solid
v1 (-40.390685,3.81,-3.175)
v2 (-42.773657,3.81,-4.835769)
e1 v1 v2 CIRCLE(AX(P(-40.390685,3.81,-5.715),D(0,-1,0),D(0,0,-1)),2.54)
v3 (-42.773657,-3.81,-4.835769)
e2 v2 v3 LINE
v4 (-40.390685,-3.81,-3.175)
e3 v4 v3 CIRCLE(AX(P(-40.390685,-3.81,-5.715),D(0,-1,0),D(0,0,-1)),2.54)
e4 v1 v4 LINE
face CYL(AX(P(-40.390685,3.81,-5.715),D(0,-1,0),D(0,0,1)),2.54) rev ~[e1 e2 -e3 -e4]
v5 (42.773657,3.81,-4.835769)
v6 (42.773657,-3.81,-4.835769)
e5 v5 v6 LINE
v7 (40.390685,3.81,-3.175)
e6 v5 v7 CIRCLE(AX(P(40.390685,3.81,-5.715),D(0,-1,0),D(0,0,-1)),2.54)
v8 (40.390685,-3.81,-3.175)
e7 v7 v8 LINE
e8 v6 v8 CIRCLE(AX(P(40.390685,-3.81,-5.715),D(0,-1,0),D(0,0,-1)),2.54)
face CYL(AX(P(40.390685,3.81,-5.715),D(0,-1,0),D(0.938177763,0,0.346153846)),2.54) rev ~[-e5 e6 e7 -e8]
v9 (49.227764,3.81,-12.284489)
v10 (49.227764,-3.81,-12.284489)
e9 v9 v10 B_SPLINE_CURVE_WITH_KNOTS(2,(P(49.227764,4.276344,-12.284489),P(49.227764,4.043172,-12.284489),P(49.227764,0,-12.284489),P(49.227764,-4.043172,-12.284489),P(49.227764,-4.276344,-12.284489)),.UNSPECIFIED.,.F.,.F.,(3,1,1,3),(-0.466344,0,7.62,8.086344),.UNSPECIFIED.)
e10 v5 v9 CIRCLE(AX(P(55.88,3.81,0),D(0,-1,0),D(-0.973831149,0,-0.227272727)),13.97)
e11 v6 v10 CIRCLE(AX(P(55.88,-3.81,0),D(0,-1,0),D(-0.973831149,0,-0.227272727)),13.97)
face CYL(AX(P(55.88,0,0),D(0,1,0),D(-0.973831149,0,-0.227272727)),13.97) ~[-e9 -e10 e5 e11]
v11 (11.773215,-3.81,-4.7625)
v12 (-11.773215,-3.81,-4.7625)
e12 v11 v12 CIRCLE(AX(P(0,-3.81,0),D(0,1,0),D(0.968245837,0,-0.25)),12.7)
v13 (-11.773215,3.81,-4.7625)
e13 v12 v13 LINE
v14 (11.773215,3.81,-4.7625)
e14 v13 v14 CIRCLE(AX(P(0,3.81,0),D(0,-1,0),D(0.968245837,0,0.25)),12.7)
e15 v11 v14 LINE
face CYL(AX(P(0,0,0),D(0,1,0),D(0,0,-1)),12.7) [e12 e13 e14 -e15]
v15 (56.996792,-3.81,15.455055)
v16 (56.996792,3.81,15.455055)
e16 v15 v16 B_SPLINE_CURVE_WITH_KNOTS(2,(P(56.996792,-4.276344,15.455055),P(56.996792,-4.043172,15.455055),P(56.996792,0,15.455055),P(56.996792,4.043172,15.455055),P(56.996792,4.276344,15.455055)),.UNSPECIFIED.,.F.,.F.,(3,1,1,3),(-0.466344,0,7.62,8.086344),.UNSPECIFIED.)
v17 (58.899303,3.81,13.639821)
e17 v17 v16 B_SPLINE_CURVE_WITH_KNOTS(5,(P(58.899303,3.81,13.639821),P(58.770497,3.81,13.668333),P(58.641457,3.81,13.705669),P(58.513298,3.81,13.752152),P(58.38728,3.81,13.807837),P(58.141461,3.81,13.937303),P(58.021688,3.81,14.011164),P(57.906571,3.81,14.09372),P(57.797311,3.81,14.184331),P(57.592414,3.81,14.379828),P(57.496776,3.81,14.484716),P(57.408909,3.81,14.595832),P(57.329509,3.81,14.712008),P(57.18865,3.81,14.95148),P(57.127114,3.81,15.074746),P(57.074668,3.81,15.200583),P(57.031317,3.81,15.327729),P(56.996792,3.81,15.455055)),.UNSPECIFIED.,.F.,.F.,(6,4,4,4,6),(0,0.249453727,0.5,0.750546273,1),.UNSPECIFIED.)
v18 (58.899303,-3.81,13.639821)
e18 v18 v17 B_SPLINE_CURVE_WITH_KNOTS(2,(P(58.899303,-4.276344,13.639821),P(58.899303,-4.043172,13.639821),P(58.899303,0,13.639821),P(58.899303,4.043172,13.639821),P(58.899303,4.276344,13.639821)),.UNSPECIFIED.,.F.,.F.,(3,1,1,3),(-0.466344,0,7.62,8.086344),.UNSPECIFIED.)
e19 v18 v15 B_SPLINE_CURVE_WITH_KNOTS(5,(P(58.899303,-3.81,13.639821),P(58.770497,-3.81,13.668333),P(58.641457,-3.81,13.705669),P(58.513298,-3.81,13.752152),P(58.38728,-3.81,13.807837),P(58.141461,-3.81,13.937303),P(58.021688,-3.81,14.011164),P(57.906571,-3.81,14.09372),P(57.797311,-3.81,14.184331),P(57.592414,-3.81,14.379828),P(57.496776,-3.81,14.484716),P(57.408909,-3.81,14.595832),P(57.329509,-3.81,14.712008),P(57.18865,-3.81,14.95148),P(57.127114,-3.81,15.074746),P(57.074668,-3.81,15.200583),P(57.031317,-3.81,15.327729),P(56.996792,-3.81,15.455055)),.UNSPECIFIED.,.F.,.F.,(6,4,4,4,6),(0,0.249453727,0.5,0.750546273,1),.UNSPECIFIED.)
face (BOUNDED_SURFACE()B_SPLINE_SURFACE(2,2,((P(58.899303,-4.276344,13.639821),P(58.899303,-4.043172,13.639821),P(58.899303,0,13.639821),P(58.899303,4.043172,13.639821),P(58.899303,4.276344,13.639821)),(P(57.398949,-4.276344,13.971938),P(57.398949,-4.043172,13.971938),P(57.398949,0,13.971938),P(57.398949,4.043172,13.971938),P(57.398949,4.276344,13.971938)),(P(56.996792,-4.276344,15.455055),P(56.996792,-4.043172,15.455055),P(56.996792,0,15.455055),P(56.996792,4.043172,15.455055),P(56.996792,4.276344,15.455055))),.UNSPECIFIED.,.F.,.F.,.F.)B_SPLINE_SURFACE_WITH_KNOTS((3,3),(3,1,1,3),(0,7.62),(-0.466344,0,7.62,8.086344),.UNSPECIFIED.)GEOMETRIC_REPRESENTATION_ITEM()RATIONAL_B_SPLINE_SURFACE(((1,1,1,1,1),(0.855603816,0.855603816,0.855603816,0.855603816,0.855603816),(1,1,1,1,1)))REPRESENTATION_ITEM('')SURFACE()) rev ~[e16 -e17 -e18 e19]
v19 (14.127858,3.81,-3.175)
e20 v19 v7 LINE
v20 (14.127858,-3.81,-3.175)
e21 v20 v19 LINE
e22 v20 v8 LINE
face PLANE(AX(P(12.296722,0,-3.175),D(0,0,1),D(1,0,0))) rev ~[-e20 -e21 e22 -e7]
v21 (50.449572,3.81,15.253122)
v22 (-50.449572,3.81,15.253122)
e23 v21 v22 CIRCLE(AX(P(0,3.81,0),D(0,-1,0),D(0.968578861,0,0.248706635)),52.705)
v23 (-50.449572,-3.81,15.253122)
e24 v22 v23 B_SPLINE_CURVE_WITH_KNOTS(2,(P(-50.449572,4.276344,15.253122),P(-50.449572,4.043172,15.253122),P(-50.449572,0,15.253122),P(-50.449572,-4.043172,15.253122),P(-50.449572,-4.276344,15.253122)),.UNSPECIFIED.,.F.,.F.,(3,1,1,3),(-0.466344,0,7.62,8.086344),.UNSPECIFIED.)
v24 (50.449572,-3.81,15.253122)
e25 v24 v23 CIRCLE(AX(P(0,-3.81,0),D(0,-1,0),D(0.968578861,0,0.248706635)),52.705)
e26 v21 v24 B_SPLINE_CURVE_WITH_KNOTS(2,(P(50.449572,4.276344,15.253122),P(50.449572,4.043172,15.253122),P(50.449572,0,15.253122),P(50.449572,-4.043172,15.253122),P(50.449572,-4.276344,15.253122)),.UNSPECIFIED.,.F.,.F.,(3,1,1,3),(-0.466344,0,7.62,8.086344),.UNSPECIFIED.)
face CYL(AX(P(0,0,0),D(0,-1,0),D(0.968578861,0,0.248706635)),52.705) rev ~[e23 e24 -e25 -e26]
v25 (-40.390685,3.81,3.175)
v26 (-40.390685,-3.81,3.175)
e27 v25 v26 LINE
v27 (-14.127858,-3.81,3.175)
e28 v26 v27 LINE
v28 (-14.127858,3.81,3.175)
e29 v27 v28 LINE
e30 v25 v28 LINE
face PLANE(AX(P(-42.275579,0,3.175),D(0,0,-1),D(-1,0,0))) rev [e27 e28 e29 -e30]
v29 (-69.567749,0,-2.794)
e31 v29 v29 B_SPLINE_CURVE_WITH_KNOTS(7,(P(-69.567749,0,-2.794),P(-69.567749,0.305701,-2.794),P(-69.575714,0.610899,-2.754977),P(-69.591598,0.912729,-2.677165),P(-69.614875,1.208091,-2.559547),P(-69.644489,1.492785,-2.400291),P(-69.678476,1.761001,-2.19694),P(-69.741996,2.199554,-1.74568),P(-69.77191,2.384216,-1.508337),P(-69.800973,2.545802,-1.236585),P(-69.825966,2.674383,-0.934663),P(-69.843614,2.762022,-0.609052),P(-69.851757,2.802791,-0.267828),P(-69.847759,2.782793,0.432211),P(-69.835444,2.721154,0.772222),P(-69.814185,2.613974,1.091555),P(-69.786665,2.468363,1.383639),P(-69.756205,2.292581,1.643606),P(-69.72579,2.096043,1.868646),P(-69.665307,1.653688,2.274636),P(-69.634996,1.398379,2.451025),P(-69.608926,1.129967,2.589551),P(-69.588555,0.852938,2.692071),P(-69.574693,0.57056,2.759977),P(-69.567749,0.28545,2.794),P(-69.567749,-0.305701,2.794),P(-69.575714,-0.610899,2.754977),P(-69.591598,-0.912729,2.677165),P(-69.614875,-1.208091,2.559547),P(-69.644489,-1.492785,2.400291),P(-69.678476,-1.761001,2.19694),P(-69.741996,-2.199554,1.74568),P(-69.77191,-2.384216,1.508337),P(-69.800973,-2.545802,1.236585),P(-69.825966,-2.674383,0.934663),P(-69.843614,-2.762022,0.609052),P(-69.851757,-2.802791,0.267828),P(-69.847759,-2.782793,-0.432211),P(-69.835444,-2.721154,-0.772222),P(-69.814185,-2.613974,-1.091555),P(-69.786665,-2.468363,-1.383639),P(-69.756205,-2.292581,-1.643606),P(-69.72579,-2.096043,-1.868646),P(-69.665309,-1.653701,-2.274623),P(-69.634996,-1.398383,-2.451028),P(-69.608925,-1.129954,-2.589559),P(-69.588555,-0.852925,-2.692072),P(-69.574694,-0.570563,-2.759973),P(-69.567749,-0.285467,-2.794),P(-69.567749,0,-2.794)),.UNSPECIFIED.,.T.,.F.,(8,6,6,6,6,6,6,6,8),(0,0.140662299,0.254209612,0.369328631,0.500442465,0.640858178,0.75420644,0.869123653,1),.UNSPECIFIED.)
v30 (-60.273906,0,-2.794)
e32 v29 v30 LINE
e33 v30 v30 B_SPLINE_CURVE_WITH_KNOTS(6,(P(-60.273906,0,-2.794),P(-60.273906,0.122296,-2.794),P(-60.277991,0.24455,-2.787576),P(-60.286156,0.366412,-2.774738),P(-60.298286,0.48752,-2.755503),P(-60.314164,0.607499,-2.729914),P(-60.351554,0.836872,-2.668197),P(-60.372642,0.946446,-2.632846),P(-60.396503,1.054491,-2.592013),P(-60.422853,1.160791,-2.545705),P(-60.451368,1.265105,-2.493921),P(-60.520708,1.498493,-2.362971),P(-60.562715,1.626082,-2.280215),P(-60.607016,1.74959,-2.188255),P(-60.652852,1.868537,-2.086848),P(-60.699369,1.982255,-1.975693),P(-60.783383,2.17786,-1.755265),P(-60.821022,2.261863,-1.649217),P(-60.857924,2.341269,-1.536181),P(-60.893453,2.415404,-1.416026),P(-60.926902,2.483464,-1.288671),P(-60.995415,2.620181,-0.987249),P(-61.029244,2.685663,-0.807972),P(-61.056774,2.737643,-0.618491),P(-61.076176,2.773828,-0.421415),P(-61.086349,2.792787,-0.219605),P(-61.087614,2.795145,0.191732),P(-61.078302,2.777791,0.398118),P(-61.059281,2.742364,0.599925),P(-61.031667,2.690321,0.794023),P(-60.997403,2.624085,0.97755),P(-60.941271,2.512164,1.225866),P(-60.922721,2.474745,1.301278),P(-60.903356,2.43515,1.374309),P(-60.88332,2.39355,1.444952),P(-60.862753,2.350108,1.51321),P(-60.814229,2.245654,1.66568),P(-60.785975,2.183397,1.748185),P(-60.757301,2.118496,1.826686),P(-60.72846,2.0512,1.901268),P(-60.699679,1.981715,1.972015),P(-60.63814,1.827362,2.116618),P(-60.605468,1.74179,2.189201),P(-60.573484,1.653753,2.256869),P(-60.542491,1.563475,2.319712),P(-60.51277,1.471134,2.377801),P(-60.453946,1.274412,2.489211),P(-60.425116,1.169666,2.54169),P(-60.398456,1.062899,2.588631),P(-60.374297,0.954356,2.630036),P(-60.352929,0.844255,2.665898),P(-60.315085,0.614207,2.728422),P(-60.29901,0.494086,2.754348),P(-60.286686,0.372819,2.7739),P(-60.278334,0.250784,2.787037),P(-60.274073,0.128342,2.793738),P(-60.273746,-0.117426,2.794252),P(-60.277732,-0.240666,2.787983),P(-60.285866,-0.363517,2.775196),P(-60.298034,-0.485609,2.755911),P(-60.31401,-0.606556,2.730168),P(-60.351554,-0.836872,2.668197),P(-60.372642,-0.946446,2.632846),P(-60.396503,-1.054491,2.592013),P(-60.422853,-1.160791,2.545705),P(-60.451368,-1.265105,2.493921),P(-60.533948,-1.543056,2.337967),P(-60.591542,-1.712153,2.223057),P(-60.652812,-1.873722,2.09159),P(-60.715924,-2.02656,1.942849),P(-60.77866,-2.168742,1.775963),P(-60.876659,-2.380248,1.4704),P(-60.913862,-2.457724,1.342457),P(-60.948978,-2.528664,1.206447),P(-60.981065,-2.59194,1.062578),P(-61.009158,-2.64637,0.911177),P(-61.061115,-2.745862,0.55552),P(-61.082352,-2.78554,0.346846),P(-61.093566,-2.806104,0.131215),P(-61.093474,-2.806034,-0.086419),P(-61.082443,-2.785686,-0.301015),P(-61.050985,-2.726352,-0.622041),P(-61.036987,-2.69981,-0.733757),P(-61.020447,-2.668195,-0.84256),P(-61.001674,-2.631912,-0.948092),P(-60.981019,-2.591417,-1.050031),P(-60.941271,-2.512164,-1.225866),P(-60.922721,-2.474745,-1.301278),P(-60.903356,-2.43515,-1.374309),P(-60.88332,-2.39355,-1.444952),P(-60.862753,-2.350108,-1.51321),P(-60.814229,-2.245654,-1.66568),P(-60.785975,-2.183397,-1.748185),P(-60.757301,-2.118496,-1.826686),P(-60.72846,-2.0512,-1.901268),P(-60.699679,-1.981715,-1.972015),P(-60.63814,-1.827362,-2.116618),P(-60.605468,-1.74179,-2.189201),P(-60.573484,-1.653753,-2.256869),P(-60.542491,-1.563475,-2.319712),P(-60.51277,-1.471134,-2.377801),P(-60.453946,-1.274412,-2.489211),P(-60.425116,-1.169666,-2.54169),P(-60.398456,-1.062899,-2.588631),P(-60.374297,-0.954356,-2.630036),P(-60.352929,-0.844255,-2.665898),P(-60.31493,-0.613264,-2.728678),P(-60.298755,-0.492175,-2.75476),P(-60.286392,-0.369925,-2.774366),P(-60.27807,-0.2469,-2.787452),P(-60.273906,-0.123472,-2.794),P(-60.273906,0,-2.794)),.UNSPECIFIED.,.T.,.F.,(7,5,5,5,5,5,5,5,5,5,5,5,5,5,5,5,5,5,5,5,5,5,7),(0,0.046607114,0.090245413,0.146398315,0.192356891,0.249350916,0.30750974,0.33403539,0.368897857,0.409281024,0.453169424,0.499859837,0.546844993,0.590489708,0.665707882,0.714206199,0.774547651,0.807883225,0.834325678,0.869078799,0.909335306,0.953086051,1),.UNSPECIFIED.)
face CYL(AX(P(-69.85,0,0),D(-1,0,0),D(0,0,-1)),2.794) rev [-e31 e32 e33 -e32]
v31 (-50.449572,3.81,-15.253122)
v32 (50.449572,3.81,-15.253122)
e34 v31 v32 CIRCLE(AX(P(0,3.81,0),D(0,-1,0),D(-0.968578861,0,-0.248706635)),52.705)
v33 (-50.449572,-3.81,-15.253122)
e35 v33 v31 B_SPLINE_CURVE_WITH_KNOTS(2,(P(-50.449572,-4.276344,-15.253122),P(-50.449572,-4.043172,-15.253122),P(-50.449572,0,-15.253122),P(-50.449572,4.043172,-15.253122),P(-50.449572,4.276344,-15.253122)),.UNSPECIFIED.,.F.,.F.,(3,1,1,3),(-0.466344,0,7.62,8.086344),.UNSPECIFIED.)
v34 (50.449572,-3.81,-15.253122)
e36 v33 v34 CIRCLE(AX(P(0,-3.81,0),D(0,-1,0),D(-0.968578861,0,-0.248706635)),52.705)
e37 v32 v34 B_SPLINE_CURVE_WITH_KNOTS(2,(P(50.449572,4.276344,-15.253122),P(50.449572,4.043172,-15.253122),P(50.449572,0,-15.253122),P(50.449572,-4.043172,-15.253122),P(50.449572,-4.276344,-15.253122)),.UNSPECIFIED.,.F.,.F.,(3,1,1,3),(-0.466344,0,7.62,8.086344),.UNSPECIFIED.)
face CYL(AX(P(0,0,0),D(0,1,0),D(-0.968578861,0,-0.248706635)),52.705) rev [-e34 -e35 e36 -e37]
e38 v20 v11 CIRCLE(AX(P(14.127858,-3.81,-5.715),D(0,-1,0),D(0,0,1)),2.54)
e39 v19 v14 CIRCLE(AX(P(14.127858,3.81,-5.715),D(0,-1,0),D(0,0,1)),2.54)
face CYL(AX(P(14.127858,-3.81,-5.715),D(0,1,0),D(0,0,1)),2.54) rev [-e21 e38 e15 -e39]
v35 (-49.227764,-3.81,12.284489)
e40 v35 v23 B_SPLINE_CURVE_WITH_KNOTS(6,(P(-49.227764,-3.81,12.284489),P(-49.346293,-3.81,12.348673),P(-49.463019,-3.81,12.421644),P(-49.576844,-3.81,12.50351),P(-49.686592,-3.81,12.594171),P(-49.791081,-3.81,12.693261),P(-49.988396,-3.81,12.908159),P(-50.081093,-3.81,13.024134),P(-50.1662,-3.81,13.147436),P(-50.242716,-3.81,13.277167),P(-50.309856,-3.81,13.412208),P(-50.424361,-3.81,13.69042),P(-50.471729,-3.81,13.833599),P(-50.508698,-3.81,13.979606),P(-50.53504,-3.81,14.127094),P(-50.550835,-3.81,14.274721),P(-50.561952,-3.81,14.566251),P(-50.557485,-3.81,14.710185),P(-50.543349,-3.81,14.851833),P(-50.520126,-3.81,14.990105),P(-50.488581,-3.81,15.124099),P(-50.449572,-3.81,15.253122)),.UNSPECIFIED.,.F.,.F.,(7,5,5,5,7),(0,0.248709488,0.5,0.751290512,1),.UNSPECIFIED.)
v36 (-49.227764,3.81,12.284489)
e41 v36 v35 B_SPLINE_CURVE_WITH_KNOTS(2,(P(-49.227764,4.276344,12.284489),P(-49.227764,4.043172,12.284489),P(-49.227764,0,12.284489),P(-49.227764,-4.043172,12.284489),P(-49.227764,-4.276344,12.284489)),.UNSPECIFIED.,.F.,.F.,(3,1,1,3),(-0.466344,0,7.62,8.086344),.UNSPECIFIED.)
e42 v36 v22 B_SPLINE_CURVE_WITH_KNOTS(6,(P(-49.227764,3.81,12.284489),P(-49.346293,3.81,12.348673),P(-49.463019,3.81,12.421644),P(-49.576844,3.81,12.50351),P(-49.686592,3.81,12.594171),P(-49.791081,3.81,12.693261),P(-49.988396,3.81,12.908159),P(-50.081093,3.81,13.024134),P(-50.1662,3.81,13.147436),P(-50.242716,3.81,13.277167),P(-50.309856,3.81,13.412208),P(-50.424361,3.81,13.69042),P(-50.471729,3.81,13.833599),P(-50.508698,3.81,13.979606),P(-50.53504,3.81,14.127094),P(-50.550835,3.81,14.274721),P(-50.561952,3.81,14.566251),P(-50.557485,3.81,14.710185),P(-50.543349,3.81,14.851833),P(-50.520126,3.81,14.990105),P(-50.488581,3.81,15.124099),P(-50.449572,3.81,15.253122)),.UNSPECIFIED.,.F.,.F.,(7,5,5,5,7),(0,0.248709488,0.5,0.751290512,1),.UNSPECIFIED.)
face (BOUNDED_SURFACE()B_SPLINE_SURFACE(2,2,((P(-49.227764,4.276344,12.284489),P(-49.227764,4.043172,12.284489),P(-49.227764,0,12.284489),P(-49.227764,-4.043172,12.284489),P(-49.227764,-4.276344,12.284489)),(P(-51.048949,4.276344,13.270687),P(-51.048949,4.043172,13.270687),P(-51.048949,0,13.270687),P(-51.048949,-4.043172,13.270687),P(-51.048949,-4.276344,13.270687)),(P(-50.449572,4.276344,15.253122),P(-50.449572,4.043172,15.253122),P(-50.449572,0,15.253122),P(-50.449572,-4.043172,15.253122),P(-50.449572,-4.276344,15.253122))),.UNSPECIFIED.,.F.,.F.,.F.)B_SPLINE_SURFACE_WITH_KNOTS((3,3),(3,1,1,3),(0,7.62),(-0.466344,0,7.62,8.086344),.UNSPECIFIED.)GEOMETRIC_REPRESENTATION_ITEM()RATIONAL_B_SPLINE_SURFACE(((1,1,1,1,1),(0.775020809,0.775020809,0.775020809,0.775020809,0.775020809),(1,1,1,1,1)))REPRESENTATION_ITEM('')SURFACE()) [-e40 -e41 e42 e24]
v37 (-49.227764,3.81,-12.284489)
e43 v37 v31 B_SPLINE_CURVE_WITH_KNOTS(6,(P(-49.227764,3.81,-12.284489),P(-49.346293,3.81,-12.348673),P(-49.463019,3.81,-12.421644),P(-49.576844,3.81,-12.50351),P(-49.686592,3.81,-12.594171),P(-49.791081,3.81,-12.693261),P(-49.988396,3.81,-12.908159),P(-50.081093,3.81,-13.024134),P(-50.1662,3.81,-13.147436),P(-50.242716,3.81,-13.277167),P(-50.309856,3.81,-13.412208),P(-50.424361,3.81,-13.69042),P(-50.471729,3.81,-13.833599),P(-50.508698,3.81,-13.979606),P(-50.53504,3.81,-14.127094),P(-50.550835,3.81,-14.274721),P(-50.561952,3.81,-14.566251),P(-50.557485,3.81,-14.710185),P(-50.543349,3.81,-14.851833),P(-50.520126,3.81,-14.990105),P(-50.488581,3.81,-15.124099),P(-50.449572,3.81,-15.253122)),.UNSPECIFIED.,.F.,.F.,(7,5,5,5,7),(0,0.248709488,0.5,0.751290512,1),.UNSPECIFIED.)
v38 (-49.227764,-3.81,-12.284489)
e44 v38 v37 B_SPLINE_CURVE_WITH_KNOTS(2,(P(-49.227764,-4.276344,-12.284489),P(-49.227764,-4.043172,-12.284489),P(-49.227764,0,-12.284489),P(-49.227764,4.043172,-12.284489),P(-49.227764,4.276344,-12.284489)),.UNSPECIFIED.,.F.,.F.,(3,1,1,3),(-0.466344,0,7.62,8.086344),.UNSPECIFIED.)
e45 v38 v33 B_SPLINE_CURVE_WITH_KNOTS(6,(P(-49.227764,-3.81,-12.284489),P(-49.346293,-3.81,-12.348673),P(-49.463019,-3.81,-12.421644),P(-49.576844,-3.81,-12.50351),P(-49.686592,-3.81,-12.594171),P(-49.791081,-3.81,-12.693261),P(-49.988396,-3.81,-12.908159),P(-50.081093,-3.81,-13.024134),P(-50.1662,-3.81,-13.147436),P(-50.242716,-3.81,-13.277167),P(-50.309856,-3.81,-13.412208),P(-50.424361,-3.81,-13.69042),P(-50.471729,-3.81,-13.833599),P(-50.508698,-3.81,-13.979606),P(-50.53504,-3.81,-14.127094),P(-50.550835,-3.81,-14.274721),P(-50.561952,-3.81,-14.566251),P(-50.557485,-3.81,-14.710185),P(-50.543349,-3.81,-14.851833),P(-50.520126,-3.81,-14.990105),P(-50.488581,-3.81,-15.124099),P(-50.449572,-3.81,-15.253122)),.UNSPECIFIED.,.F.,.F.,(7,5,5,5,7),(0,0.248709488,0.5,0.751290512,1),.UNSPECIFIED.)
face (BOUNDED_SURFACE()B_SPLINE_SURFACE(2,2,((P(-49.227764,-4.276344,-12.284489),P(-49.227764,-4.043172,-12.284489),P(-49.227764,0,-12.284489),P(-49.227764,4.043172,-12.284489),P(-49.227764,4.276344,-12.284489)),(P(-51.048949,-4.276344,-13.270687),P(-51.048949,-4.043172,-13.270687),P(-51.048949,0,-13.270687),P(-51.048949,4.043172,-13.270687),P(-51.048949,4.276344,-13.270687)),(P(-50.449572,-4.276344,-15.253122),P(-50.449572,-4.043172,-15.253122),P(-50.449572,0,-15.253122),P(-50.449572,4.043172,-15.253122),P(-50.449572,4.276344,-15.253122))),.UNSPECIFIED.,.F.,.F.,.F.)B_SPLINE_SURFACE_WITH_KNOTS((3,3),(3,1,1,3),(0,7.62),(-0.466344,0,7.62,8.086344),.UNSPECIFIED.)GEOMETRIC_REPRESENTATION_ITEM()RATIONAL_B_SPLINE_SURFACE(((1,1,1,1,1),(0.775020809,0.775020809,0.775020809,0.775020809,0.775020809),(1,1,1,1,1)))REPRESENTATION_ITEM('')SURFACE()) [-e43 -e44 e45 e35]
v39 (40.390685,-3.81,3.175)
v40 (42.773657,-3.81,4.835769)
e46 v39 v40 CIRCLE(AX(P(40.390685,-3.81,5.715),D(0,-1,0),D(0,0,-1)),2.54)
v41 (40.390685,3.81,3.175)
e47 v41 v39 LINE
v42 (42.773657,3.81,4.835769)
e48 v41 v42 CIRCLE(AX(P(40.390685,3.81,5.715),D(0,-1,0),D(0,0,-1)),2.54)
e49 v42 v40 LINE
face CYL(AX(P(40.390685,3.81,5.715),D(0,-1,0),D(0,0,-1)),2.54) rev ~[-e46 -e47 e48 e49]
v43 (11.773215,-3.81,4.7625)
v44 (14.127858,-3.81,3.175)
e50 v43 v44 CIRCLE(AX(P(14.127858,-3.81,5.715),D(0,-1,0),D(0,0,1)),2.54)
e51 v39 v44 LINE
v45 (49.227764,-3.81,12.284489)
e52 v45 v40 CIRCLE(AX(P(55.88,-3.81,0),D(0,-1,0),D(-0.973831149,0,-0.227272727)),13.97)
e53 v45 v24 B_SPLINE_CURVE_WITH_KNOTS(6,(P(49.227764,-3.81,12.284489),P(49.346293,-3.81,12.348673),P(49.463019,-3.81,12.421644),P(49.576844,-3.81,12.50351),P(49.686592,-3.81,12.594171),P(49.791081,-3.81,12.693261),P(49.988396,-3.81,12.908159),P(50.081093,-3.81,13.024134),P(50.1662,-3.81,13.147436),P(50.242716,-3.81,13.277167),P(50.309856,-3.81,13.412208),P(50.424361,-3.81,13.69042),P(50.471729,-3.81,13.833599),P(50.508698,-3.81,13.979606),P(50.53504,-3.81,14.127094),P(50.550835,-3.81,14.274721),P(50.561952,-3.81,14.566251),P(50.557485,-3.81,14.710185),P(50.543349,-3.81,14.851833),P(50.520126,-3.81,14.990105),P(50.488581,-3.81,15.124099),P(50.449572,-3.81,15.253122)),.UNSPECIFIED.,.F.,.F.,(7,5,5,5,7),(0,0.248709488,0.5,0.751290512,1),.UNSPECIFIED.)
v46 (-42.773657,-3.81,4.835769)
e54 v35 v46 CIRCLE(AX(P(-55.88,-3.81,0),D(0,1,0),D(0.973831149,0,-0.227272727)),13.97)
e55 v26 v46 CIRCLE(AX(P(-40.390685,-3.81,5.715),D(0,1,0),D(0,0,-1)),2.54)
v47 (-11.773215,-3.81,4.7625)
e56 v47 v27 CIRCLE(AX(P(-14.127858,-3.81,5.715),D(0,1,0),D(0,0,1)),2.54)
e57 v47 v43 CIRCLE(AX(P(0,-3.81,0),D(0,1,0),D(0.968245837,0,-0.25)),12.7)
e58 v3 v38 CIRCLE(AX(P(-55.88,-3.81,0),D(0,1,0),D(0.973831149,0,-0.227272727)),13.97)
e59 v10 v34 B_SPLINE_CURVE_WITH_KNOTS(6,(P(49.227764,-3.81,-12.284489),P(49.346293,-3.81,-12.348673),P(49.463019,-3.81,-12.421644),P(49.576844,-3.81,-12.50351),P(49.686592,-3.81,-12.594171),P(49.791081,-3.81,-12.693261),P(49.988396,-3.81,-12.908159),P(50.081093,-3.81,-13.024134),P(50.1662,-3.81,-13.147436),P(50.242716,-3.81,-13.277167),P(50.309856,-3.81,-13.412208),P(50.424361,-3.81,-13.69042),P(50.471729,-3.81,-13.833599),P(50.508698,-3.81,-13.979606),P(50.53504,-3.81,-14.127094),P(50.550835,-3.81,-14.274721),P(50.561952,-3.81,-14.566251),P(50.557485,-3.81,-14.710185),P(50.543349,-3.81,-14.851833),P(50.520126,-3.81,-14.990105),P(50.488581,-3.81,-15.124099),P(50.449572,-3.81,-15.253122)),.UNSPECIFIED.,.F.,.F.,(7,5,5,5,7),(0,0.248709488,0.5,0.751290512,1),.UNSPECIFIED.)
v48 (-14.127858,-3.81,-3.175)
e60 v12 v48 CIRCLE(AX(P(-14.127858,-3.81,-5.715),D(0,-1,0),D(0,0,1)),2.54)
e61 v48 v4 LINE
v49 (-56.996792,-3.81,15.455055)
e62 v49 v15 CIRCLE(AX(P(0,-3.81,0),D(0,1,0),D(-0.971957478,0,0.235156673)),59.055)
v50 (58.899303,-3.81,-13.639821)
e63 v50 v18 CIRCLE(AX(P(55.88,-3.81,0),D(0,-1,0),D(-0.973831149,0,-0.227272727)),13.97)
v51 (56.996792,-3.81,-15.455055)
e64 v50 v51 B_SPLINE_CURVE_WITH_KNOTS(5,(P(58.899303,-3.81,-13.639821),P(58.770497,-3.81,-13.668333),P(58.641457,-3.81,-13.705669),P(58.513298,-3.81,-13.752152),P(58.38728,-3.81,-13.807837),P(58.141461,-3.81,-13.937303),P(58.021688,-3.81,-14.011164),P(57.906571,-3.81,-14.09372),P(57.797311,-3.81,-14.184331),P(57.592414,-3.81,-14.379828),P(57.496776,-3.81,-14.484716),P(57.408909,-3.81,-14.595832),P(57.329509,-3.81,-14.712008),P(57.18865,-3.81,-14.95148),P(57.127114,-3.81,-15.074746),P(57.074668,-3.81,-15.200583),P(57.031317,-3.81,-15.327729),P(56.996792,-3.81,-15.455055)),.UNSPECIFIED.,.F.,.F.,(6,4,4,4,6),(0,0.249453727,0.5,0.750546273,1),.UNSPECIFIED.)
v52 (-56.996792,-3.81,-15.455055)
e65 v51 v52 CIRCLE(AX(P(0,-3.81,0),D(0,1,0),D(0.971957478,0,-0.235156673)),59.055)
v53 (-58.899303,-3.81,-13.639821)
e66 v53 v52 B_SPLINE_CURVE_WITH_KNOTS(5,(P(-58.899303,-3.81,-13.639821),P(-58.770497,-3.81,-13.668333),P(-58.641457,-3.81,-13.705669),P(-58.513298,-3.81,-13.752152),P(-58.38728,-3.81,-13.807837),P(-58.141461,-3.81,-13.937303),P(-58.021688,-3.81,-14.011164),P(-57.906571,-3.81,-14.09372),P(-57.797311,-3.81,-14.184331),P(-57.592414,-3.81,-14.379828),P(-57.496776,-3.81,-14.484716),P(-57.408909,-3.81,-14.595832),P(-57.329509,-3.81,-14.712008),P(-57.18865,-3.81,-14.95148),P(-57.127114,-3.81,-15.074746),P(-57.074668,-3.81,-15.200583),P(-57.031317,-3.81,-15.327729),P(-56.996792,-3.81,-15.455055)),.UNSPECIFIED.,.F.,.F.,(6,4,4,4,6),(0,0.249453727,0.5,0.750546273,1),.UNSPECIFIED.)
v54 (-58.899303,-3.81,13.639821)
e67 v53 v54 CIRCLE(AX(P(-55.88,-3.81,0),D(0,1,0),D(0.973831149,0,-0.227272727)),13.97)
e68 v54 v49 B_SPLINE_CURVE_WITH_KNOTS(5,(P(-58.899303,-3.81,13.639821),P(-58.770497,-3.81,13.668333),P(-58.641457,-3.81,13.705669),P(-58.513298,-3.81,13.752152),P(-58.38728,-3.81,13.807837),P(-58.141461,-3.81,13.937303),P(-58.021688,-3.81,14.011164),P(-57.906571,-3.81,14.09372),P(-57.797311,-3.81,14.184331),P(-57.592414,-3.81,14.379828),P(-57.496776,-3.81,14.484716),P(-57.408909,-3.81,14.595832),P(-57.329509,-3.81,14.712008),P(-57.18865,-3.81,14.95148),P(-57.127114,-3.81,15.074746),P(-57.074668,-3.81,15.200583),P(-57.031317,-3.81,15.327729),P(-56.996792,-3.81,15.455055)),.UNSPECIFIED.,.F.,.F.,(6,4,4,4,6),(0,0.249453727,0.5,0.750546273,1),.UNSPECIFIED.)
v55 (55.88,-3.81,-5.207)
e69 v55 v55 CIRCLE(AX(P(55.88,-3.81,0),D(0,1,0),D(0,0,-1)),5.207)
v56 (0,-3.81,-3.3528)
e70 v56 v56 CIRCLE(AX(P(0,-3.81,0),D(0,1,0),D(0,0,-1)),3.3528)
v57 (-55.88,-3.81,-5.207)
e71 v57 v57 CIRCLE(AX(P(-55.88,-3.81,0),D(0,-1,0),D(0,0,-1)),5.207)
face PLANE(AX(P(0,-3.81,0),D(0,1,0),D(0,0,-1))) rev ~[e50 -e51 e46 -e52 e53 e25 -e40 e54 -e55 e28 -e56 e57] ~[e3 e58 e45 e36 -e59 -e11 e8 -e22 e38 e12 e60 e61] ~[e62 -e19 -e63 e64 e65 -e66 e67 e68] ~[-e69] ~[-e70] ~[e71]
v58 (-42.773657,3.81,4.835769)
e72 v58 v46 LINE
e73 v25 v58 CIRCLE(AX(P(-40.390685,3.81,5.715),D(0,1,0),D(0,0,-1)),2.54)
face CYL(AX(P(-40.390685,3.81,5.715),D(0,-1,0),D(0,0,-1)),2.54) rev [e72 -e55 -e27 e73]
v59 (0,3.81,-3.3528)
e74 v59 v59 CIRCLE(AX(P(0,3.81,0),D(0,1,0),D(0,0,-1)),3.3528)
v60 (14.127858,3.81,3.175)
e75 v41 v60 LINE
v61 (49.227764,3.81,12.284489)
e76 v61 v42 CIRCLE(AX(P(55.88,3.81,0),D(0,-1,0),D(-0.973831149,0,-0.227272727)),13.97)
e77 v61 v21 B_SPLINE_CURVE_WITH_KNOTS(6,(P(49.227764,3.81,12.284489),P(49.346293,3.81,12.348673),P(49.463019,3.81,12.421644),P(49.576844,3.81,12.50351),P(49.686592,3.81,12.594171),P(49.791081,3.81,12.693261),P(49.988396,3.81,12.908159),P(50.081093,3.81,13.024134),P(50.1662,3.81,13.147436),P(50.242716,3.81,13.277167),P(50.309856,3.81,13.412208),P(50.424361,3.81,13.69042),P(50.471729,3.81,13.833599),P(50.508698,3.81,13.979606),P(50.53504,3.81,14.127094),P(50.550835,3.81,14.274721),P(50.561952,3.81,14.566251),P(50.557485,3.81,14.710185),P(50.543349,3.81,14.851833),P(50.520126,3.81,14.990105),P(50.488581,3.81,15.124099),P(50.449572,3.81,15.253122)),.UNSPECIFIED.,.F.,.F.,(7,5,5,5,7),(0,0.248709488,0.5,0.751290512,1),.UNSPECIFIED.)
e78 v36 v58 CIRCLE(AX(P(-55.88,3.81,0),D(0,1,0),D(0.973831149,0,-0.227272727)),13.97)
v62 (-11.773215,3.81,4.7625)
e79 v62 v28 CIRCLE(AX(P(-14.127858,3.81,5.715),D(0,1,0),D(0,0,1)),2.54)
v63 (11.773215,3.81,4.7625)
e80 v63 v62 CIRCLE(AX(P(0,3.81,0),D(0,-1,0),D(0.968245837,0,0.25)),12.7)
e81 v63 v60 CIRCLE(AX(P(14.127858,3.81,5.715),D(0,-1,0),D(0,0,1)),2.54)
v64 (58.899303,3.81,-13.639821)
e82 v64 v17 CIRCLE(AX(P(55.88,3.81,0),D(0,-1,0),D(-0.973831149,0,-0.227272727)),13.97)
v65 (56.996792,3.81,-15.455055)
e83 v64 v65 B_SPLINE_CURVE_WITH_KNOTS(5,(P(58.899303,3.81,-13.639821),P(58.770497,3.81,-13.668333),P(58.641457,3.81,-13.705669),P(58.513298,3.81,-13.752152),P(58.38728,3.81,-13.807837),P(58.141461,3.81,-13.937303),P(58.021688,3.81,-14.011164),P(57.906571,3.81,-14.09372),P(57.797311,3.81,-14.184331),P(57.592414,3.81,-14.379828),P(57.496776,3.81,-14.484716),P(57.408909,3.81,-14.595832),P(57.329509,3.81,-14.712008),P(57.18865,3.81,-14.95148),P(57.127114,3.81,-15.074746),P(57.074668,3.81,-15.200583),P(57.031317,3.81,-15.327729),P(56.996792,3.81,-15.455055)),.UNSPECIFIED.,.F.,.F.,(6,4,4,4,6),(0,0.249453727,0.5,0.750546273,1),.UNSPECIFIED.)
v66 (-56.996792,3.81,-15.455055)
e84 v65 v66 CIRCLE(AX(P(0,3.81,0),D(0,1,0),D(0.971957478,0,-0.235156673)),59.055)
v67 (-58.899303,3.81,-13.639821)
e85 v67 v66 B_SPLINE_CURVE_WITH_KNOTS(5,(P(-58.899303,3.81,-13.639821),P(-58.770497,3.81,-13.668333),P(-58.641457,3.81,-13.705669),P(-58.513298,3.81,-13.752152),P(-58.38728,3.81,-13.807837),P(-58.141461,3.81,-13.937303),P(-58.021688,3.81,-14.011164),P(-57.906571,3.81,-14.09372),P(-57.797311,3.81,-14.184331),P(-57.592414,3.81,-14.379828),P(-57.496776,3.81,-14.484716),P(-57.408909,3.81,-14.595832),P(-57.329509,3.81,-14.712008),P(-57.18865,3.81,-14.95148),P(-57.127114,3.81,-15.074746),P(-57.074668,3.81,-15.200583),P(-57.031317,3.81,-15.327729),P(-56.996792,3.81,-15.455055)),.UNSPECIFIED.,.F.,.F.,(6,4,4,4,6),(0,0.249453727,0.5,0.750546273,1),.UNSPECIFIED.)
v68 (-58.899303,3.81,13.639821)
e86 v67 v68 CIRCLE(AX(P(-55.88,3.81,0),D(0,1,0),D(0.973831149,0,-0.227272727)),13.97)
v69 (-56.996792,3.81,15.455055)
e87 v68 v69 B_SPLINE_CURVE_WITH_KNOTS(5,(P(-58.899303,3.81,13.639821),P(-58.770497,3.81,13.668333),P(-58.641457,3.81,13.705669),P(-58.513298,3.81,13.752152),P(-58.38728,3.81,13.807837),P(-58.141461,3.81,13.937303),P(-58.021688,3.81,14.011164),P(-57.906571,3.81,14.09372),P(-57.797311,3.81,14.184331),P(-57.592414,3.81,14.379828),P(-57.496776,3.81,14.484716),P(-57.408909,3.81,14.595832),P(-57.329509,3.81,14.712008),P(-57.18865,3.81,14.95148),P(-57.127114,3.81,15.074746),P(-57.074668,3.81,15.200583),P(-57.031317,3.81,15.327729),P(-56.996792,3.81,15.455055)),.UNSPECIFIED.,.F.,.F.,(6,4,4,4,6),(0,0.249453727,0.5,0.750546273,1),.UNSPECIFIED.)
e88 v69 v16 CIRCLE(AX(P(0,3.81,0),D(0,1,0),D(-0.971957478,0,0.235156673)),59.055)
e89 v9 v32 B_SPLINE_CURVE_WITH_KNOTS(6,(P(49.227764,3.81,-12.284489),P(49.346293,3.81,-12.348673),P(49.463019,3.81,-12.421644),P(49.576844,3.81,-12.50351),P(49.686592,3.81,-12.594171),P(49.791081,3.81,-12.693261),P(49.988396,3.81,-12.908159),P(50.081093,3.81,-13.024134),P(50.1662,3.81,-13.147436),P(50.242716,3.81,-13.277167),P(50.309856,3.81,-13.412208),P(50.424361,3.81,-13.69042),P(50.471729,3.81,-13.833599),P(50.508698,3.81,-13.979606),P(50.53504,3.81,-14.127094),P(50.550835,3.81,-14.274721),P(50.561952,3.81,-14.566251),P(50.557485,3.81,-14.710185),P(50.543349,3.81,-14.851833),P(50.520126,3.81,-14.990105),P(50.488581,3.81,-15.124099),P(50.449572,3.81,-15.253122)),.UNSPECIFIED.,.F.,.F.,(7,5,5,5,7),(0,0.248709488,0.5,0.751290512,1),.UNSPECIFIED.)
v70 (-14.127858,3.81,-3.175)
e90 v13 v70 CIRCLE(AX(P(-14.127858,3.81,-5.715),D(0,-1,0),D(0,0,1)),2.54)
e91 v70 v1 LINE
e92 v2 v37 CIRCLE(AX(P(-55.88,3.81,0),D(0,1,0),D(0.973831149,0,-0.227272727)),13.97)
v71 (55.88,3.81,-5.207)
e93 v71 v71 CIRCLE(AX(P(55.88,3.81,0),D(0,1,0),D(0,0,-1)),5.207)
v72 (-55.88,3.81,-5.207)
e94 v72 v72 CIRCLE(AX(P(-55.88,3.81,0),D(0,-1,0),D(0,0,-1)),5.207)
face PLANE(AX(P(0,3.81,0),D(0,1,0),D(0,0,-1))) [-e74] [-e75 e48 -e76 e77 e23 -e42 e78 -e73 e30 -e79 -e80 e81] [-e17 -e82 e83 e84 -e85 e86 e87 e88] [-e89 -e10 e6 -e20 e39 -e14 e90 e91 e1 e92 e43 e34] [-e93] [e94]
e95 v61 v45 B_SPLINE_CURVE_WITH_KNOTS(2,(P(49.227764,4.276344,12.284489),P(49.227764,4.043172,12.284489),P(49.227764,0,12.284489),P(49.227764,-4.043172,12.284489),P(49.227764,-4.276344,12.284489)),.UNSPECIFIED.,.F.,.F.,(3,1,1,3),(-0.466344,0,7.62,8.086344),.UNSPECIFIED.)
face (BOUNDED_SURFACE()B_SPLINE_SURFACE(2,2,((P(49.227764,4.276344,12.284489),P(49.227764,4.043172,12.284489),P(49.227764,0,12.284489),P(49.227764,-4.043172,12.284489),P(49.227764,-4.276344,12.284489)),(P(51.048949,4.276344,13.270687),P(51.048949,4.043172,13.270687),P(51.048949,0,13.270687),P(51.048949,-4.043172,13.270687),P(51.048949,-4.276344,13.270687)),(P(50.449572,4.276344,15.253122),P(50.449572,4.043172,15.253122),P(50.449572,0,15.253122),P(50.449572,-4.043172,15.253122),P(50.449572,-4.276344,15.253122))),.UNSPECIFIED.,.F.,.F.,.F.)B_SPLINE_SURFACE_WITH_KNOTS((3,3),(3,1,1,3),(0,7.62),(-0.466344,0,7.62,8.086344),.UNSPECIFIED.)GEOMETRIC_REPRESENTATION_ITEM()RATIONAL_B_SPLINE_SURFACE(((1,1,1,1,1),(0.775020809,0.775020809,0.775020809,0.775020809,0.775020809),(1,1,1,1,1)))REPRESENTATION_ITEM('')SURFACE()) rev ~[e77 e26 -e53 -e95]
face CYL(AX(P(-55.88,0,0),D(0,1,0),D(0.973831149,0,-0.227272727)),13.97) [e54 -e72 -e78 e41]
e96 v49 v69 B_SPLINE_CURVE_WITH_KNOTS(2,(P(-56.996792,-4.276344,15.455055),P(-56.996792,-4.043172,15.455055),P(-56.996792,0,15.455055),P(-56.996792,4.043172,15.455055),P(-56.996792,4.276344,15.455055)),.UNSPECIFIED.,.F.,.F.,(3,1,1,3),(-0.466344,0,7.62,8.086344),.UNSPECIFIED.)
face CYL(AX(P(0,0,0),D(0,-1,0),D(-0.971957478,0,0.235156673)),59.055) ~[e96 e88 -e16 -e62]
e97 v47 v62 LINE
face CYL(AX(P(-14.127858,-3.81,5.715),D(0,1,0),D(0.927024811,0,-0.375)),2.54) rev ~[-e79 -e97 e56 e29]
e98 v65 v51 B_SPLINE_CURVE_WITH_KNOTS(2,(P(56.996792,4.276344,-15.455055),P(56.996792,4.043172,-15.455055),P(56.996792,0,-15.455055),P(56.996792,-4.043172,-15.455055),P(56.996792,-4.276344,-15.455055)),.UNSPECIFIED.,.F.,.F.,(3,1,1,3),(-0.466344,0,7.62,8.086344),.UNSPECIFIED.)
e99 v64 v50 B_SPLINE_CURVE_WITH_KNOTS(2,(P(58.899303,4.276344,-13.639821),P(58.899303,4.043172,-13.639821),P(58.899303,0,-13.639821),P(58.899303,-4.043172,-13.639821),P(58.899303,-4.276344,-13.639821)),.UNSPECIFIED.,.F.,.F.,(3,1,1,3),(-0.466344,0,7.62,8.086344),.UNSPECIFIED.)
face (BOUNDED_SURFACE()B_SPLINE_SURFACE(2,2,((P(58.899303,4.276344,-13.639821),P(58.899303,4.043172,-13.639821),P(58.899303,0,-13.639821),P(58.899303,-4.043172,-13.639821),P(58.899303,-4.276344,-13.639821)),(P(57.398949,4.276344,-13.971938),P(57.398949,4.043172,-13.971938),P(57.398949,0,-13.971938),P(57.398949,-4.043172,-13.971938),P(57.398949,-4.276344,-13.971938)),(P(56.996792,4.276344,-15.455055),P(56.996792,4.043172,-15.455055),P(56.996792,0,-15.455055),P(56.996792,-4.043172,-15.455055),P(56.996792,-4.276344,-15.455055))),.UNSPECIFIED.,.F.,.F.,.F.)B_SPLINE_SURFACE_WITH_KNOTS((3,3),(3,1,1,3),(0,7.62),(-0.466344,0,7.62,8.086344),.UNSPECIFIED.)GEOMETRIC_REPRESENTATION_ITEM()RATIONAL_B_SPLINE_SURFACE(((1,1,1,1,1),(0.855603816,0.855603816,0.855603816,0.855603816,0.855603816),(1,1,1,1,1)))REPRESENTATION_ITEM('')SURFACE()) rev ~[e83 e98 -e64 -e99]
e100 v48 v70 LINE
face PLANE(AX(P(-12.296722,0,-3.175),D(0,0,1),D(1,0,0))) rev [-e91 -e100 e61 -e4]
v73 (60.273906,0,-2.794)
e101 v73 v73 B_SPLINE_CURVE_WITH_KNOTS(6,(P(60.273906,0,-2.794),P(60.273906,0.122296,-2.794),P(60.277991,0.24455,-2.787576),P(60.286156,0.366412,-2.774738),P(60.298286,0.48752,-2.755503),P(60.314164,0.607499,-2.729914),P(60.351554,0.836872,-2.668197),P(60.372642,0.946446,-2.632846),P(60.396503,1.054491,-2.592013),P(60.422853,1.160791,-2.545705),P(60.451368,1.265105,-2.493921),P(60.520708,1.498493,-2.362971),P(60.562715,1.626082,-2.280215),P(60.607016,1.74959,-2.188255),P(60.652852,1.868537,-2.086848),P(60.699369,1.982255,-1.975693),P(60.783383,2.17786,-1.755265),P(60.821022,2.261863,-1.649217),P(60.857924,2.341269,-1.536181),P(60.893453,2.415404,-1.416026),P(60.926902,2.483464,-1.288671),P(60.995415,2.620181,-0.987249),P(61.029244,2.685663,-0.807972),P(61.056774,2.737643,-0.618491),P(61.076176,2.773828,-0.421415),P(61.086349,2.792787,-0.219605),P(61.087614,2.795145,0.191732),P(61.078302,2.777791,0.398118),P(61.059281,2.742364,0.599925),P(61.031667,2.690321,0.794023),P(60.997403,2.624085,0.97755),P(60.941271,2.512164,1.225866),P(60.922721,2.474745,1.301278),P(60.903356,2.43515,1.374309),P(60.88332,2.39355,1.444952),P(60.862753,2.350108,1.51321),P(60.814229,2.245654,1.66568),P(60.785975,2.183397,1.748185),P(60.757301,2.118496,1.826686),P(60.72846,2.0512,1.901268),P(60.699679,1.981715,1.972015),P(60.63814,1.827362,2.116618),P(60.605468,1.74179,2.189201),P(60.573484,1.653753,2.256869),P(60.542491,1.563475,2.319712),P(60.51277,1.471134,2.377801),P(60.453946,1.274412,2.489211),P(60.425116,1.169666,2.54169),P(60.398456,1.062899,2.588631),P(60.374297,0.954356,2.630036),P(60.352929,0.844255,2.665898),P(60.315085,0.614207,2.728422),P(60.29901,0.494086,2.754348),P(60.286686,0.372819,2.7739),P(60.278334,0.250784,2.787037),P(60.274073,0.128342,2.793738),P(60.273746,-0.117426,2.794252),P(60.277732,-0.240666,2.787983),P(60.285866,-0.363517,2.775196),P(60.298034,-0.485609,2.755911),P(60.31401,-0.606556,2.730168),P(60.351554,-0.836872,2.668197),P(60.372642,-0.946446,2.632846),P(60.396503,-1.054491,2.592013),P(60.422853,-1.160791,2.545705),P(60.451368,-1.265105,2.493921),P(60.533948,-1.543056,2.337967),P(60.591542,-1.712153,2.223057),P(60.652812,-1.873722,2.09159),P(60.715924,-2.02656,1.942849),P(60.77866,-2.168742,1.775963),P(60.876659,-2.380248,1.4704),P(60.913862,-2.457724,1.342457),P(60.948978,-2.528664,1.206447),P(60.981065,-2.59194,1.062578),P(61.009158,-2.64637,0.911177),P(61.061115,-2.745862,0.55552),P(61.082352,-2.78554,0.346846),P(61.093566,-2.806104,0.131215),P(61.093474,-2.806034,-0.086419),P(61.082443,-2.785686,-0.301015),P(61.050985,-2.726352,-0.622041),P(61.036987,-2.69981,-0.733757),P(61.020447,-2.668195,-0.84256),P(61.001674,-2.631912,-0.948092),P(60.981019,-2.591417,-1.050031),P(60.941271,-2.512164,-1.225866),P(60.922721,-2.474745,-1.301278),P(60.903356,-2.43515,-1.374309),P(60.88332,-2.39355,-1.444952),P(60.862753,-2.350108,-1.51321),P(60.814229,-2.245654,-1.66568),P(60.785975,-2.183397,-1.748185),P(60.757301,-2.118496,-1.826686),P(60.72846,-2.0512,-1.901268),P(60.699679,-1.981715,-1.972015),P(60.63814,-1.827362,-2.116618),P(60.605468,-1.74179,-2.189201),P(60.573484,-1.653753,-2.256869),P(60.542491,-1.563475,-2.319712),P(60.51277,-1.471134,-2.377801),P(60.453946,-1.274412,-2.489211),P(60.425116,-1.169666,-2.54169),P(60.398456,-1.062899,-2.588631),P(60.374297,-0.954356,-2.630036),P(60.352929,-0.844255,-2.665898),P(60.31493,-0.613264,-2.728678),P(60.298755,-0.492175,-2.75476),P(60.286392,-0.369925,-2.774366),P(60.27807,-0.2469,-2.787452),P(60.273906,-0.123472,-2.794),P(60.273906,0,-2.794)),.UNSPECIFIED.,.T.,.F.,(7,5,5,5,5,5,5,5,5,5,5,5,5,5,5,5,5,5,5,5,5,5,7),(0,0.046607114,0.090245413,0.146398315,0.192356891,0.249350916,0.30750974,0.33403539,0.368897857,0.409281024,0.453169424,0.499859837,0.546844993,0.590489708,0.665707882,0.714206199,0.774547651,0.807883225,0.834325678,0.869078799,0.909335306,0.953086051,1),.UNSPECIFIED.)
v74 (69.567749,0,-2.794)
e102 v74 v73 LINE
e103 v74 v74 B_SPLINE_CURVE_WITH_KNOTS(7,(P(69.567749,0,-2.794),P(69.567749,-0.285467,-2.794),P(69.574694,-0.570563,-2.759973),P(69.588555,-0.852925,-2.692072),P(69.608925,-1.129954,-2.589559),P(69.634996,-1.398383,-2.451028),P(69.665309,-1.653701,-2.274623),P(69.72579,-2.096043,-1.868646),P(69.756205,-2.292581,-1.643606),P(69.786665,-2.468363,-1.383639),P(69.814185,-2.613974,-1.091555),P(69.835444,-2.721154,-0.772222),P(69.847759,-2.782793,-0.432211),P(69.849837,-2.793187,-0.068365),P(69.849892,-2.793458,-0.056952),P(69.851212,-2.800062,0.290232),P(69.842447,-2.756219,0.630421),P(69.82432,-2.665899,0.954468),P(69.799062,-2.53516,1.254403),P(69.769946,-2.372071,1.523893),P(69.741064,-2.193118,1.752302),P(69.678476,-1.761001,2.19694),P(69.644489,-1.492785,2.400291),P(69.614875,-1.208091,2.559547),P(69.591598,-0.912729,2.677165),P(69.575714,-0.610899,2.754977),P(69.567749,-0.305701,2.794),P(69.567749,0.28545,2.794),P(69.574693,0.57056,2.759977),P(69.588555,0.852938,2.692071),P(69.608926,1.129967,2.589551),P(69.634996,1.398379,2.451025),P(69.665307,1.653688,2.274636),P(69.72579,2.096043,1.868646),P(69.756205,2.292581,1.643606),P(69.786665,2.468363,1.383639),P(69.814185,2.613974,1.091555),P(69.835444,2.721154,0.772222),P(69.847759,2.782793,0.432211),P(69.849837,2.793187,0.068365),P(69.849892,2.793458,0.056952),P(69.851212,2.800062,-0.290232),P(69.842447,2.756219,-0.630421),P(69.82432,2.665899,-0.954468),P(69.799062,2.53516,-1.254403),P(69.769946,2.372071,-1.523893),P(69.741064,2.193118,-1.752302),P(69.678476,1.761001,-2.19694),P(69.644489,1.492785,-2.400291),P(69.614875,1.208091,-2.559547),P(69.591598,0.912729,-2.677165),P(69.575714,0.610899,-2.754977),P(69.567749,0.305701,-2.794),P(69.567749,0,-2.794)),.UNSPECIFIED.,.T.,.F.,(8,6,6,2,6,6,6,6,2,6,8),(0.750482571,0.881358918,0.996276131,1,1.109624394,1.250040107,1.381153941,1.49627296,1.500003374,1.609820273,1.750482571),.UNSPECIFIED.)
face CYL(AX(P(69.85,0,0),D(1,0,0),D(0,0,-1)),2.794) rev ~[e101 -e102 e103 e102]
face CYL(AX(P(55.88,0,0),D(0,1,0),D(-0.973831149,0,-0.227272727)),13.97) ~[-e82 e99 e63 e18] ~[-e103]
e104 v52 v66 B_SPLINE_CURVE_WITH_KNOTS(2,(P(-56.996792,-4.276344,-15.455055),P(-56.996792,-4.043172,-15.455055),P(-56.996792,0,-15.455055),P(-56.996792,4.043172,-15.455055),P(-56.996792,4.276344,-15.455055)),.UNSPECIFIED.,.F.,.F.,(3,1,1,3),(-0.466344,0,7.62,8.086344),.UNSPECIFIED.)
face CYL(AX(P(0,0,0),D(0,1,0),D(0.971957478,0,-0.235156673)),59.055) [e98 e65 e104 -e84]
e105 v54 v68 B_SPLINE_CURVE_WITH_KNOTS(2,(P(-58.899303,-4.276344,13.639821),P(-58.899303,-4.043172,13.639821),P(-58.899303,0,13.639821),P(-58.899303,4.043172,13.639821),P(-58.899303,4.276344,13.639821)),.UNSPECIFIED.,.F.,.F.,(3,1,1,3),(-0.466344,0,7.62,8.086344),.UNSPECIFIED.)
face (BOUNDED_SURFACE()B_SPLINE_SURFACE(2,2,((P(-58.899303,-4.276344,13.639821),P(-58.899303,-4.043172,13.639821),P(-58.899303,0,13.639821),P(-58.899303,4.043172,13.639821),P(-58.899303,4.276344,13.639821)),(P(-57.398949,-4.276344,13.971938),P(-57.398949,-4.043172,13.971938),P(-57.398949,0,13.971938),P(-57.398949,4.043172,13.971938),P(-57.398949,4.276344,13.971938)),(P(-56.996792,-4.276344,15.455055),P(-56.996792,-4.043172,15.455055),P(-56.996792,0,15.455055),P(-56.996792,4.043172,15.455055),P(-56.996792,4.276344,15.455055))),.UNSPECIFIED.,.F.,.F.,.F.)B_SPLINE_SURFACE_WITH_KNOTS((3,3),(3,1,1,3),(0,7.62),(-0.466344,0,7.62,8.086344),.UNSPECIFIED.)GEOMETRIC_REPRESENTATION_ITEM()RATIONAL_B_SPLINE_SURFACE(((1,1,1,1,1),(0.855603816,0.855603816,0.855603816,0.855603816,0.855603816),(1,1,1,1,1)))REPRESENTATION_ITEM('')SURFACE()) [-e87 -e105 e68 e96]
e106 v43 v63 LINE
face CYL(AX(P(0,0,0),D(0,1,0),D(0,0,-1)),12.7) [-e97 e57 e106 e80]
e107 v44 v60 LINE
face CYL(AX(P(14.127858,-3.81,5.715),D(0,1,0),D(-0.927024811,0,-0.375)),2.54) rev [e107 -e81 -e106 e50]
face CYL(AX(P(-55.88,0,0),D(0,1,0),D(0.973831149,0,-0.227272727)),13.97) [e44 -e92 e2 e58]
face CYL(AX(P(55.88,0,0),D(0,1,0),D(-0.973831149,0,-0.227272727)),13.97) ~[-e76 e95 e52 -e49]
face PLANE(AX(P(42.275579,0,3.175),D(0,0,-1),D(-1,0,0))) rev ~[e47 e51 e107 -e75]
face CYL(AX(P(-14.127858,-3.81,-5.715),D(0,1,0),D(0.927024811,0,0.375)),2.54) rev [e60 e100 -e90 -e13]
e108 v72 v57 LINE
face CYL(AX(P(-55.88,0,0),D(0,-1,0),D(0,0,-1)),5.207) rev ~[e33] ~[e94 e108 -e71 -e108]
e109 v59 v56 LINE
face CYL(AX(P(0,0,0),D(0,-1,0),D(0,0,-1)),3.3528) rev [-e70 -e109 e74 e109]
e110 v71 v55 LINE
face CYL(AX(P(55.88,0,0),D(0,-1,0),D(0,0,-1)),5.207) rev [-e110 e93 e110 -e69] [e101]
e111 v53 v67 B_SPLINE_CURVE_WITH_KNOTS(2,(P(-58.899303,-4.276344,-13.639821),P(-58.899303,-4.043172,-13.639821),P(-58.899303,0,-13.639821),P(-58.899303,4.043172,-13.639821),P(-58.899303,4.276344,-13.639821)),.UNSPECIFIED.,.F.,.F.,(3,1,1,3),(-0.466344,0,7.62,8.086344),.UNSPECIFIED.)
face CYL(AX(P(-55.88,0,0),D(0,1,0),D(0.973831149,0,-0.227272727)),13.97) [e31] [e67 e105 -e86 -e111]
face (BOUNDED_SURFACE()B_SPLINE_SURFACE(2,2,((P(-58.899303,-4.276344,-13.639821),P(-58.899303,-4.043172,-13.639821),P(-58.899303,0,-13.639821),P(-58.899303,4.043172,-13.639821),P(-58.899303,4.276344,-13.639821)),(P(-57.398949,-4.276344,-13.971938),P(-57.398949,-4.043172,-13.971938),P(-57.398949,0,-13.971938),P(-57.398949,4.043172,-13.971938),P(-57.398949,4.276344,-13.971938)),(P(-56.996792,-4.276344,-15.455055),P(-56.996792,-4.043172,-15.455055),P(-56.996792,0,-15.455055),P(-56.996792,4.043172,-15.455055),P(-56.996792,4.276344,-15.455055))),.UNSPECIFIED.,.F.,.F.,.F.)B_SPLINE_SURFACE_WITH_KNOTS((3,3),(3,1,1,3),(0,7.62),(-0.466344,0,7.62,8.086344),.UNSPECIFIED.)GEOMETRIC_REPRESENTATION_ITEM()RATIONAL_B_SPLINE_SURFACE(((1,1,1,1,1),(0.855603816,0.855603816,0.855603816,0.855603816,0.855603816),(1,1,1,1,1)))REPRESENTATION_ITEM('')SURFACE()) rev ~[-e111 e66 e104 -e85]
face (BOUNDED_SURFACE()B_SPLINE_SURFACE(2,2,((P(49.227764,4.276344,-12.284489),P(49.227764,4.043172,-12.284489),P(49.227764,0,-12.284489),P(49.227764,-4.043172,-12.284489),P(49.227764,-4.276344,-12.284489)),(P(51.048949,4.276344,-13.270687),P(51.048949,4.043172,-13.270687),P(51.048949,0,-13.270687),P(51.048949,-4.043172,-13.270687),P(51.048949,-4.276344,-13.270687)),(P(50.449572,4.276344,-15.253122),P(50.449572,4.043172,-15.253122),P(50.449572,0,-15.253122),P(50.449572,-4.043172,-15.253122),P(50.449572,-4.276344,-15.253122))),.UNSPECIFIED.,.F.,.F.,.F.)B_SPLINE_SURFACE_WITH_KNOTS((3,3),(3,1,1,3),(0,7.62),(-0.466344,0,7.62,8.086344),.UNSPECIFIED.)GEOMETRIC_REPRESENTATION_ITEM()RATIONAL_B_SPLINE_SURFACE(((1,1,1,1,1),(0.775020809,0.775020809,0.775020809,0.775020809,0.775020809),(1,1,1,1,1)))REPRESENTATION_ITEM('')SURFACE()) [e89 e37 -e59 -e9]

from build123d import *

# Parameters (mm, degrees)
SKETCH1_R               = 12.7
SKETCH1_R_2             = 3.3528
BOSS_EXTRUDE1_DEPTH     = 3.81
SKETCH2_R               = 5.207
BOSS_EXTRUDE2_DEPTH     = 3.81
CUT_EXTRUDE1_REACH      = 85.81
CUT_EXTRUDE1_END_RADIUS = 5.207
SKETCH3_R               = 2.794
BOSS_EXTRUDE3_DEPTH     = 3.81
FILLET1_R               = 2.54


with BuildPart() as part:
    # Sketch1 → Boss-Extrude1 (new, symmetric)
    with BuildSketch(Plane(origin=(0, 0, 0), x_dir=(1, 0, 0), z_dir=(0, 1, 0))):
        with Locations(Location((0, 0, 0), (0, 0, 90))):
            Circle(SKETCH1_R)
        with Locations(Location((0, 0, 0), (0, 0, 90))):
            Circle(SKETCH1_R_2, mode=Mode.SUBTRACT)
    extrude(amount=BOSS_EXTRUDE1_DEPTH, both=True)

    # Sketch2 → Boss-Extrude2 (add, symmetric)
    with BuildSketch(Plane(origin=(0, 0, 0), x_dir=(1, 0, 0), z_dir=(0, 1, 0))):
        with BuildLine():
            Line((12.296722124, 3.175), (42.275578844, 3.175))
            ThreePointArc((42.275578844, 3.175), (69.85, 0), (42.275578844, -3.175))
            Line((42.275578844, -3.175), (12.296722124, -3.175))
            ThreePointArc((12.296722124, -3.175), (12.7, 0), (12.296722124, 3.175))
        make_face()
        with Locations(Location((55.88, 0, 0), (0, 0, 90))):
            Circle(SKETCH2_R, mode=Mode.SUBTRACT)
    boss_extrude2 = extrude(amount=BOSS_EXTRUDE2_DEPTH, both=True)

    # Cut-Extrude1: up to this cylinder (the profile starts outside it)
    cut_extrude1_end = Plane(origin=(55.88, 0, 0), z_dir=(0, -1, 0)) * Cylinder(CUT_EXTRUDE1_END_RADIUS, 183.034, mode=Mode.PRIVATE)
    # Sketch3 → Cut-Extrude1 (cut, up to the surface)
    with BuildSketch(Plane(origin=(69.85, 0, 0), x_dir=(0, 0, -1), z_dir=(1, 0, 0)), mode=Mode.PRIVATE) as cut_extrude1_sk1:
        Circle(SKETCH3_R)
    cut_extrude1_tool1 = extrude(cut_extrude1_sk1.sketch, amount=-CUT_EXTRUDE1_REACH, mode=Mode.PRIVATE) - cut_extrude1_end
    cut_extrude1 = cut_extrude1_tool1.solids().sort_by_distance((69.85, 0, 0))[0]
    add(cut_extrude1, mode=Mode.SUBTRACT)

    # Mirror1: Boss-Extrude2, Cut-Extrude1 across plane
    add(boss_extrude2.mirror(Plane(origin=(0, 0, 0), x_dir=(0, 0, 1), z_dir=(1, 0, 0))))
    add(cut_extrude1.mirror(Plane(origin=(0, 0, 0), x_dir=(0, 0, 1), z_dir=(1, 0, 0))), mode=Mode.SUBTRACT)

    # Sketch4 → Boss-Extrude3 (add, symmetric)
    with BuildSketch(Plane(origin=(0, 0, 0), x_dir=(1, 0, 0), z_dir=(0, 1, 0))):
        with BuildLine():
            ThreePointArc((-51.048948864, -13.10808319), (-54.178749787, -13.866024943), (-57.398948864, -13.887177336))
            ThreePointArc((-57.398948864, -13.887177336), (0, -59.055), (57.398948864, -13.887177336))
            ThreePointArc((57.398948864, -13.887177336), (54.178749787, -13.866024943), (51.048948864, -13.10808319))
            ThreePointArc((51.048948864, -13.10808319), (0, -52.705), (-51.048948864, -13.10808319))
        make_face()
        with BuildLine():
            ThreePointArc((57.398948864, 13.887177336), (0, 59.055), (-57.398948864, 13.887177336))
            ThreePointArc((-57.398948864, 13.887177336), (-54.178749787, 13.866024943), (-51.048948864, 13.10808319))
            ThreePointArc((-51.048948864, 13.10808319), (0, 52.705), (51.048948864, 13.10808319))
            ThreePointArc((51.048948864, 13.10808319), (54.178749787, 13.866024943), (57.398948864, 13.887177336))
        make_face()
    extrude(amount=BOSS_EXTRUDE3_DEPTH, both=True)

    # Fillet1
    fillet1_edges = [part.edges().sort_by_distance(p)[0] for p in [
        (12.296722124, 0, -3.175),
        (12.296722124, 0, 3.175),
        (42.275578844, 0, 3.175),
        (42.275578844, 0, -3.175),
        (-12.296722124, 0, 3.175),
        (-12.296722124, 0, -3.175),
        (-42.275578844, 0, -3.175),
        (-42.275578844, 0, 3.175),
        (-51.048948864, 0, 13.10808319),
        (-57.398948864, 0, 13.887177336),
        (57.398948864, 0, 13.887177336),
        (51.048948864, 0, 13.10808319),
        (51.048948864, 0, -13.10808319),
        (57.398948864, 0, -13.887177336),
        (-57.398948864, 0, -13.887177336),
        (-51.048948864, 0, -13.10808319),
    ]]
    fillet(fillet1_edges, radius=FILLET1_R)


solid = part.part
